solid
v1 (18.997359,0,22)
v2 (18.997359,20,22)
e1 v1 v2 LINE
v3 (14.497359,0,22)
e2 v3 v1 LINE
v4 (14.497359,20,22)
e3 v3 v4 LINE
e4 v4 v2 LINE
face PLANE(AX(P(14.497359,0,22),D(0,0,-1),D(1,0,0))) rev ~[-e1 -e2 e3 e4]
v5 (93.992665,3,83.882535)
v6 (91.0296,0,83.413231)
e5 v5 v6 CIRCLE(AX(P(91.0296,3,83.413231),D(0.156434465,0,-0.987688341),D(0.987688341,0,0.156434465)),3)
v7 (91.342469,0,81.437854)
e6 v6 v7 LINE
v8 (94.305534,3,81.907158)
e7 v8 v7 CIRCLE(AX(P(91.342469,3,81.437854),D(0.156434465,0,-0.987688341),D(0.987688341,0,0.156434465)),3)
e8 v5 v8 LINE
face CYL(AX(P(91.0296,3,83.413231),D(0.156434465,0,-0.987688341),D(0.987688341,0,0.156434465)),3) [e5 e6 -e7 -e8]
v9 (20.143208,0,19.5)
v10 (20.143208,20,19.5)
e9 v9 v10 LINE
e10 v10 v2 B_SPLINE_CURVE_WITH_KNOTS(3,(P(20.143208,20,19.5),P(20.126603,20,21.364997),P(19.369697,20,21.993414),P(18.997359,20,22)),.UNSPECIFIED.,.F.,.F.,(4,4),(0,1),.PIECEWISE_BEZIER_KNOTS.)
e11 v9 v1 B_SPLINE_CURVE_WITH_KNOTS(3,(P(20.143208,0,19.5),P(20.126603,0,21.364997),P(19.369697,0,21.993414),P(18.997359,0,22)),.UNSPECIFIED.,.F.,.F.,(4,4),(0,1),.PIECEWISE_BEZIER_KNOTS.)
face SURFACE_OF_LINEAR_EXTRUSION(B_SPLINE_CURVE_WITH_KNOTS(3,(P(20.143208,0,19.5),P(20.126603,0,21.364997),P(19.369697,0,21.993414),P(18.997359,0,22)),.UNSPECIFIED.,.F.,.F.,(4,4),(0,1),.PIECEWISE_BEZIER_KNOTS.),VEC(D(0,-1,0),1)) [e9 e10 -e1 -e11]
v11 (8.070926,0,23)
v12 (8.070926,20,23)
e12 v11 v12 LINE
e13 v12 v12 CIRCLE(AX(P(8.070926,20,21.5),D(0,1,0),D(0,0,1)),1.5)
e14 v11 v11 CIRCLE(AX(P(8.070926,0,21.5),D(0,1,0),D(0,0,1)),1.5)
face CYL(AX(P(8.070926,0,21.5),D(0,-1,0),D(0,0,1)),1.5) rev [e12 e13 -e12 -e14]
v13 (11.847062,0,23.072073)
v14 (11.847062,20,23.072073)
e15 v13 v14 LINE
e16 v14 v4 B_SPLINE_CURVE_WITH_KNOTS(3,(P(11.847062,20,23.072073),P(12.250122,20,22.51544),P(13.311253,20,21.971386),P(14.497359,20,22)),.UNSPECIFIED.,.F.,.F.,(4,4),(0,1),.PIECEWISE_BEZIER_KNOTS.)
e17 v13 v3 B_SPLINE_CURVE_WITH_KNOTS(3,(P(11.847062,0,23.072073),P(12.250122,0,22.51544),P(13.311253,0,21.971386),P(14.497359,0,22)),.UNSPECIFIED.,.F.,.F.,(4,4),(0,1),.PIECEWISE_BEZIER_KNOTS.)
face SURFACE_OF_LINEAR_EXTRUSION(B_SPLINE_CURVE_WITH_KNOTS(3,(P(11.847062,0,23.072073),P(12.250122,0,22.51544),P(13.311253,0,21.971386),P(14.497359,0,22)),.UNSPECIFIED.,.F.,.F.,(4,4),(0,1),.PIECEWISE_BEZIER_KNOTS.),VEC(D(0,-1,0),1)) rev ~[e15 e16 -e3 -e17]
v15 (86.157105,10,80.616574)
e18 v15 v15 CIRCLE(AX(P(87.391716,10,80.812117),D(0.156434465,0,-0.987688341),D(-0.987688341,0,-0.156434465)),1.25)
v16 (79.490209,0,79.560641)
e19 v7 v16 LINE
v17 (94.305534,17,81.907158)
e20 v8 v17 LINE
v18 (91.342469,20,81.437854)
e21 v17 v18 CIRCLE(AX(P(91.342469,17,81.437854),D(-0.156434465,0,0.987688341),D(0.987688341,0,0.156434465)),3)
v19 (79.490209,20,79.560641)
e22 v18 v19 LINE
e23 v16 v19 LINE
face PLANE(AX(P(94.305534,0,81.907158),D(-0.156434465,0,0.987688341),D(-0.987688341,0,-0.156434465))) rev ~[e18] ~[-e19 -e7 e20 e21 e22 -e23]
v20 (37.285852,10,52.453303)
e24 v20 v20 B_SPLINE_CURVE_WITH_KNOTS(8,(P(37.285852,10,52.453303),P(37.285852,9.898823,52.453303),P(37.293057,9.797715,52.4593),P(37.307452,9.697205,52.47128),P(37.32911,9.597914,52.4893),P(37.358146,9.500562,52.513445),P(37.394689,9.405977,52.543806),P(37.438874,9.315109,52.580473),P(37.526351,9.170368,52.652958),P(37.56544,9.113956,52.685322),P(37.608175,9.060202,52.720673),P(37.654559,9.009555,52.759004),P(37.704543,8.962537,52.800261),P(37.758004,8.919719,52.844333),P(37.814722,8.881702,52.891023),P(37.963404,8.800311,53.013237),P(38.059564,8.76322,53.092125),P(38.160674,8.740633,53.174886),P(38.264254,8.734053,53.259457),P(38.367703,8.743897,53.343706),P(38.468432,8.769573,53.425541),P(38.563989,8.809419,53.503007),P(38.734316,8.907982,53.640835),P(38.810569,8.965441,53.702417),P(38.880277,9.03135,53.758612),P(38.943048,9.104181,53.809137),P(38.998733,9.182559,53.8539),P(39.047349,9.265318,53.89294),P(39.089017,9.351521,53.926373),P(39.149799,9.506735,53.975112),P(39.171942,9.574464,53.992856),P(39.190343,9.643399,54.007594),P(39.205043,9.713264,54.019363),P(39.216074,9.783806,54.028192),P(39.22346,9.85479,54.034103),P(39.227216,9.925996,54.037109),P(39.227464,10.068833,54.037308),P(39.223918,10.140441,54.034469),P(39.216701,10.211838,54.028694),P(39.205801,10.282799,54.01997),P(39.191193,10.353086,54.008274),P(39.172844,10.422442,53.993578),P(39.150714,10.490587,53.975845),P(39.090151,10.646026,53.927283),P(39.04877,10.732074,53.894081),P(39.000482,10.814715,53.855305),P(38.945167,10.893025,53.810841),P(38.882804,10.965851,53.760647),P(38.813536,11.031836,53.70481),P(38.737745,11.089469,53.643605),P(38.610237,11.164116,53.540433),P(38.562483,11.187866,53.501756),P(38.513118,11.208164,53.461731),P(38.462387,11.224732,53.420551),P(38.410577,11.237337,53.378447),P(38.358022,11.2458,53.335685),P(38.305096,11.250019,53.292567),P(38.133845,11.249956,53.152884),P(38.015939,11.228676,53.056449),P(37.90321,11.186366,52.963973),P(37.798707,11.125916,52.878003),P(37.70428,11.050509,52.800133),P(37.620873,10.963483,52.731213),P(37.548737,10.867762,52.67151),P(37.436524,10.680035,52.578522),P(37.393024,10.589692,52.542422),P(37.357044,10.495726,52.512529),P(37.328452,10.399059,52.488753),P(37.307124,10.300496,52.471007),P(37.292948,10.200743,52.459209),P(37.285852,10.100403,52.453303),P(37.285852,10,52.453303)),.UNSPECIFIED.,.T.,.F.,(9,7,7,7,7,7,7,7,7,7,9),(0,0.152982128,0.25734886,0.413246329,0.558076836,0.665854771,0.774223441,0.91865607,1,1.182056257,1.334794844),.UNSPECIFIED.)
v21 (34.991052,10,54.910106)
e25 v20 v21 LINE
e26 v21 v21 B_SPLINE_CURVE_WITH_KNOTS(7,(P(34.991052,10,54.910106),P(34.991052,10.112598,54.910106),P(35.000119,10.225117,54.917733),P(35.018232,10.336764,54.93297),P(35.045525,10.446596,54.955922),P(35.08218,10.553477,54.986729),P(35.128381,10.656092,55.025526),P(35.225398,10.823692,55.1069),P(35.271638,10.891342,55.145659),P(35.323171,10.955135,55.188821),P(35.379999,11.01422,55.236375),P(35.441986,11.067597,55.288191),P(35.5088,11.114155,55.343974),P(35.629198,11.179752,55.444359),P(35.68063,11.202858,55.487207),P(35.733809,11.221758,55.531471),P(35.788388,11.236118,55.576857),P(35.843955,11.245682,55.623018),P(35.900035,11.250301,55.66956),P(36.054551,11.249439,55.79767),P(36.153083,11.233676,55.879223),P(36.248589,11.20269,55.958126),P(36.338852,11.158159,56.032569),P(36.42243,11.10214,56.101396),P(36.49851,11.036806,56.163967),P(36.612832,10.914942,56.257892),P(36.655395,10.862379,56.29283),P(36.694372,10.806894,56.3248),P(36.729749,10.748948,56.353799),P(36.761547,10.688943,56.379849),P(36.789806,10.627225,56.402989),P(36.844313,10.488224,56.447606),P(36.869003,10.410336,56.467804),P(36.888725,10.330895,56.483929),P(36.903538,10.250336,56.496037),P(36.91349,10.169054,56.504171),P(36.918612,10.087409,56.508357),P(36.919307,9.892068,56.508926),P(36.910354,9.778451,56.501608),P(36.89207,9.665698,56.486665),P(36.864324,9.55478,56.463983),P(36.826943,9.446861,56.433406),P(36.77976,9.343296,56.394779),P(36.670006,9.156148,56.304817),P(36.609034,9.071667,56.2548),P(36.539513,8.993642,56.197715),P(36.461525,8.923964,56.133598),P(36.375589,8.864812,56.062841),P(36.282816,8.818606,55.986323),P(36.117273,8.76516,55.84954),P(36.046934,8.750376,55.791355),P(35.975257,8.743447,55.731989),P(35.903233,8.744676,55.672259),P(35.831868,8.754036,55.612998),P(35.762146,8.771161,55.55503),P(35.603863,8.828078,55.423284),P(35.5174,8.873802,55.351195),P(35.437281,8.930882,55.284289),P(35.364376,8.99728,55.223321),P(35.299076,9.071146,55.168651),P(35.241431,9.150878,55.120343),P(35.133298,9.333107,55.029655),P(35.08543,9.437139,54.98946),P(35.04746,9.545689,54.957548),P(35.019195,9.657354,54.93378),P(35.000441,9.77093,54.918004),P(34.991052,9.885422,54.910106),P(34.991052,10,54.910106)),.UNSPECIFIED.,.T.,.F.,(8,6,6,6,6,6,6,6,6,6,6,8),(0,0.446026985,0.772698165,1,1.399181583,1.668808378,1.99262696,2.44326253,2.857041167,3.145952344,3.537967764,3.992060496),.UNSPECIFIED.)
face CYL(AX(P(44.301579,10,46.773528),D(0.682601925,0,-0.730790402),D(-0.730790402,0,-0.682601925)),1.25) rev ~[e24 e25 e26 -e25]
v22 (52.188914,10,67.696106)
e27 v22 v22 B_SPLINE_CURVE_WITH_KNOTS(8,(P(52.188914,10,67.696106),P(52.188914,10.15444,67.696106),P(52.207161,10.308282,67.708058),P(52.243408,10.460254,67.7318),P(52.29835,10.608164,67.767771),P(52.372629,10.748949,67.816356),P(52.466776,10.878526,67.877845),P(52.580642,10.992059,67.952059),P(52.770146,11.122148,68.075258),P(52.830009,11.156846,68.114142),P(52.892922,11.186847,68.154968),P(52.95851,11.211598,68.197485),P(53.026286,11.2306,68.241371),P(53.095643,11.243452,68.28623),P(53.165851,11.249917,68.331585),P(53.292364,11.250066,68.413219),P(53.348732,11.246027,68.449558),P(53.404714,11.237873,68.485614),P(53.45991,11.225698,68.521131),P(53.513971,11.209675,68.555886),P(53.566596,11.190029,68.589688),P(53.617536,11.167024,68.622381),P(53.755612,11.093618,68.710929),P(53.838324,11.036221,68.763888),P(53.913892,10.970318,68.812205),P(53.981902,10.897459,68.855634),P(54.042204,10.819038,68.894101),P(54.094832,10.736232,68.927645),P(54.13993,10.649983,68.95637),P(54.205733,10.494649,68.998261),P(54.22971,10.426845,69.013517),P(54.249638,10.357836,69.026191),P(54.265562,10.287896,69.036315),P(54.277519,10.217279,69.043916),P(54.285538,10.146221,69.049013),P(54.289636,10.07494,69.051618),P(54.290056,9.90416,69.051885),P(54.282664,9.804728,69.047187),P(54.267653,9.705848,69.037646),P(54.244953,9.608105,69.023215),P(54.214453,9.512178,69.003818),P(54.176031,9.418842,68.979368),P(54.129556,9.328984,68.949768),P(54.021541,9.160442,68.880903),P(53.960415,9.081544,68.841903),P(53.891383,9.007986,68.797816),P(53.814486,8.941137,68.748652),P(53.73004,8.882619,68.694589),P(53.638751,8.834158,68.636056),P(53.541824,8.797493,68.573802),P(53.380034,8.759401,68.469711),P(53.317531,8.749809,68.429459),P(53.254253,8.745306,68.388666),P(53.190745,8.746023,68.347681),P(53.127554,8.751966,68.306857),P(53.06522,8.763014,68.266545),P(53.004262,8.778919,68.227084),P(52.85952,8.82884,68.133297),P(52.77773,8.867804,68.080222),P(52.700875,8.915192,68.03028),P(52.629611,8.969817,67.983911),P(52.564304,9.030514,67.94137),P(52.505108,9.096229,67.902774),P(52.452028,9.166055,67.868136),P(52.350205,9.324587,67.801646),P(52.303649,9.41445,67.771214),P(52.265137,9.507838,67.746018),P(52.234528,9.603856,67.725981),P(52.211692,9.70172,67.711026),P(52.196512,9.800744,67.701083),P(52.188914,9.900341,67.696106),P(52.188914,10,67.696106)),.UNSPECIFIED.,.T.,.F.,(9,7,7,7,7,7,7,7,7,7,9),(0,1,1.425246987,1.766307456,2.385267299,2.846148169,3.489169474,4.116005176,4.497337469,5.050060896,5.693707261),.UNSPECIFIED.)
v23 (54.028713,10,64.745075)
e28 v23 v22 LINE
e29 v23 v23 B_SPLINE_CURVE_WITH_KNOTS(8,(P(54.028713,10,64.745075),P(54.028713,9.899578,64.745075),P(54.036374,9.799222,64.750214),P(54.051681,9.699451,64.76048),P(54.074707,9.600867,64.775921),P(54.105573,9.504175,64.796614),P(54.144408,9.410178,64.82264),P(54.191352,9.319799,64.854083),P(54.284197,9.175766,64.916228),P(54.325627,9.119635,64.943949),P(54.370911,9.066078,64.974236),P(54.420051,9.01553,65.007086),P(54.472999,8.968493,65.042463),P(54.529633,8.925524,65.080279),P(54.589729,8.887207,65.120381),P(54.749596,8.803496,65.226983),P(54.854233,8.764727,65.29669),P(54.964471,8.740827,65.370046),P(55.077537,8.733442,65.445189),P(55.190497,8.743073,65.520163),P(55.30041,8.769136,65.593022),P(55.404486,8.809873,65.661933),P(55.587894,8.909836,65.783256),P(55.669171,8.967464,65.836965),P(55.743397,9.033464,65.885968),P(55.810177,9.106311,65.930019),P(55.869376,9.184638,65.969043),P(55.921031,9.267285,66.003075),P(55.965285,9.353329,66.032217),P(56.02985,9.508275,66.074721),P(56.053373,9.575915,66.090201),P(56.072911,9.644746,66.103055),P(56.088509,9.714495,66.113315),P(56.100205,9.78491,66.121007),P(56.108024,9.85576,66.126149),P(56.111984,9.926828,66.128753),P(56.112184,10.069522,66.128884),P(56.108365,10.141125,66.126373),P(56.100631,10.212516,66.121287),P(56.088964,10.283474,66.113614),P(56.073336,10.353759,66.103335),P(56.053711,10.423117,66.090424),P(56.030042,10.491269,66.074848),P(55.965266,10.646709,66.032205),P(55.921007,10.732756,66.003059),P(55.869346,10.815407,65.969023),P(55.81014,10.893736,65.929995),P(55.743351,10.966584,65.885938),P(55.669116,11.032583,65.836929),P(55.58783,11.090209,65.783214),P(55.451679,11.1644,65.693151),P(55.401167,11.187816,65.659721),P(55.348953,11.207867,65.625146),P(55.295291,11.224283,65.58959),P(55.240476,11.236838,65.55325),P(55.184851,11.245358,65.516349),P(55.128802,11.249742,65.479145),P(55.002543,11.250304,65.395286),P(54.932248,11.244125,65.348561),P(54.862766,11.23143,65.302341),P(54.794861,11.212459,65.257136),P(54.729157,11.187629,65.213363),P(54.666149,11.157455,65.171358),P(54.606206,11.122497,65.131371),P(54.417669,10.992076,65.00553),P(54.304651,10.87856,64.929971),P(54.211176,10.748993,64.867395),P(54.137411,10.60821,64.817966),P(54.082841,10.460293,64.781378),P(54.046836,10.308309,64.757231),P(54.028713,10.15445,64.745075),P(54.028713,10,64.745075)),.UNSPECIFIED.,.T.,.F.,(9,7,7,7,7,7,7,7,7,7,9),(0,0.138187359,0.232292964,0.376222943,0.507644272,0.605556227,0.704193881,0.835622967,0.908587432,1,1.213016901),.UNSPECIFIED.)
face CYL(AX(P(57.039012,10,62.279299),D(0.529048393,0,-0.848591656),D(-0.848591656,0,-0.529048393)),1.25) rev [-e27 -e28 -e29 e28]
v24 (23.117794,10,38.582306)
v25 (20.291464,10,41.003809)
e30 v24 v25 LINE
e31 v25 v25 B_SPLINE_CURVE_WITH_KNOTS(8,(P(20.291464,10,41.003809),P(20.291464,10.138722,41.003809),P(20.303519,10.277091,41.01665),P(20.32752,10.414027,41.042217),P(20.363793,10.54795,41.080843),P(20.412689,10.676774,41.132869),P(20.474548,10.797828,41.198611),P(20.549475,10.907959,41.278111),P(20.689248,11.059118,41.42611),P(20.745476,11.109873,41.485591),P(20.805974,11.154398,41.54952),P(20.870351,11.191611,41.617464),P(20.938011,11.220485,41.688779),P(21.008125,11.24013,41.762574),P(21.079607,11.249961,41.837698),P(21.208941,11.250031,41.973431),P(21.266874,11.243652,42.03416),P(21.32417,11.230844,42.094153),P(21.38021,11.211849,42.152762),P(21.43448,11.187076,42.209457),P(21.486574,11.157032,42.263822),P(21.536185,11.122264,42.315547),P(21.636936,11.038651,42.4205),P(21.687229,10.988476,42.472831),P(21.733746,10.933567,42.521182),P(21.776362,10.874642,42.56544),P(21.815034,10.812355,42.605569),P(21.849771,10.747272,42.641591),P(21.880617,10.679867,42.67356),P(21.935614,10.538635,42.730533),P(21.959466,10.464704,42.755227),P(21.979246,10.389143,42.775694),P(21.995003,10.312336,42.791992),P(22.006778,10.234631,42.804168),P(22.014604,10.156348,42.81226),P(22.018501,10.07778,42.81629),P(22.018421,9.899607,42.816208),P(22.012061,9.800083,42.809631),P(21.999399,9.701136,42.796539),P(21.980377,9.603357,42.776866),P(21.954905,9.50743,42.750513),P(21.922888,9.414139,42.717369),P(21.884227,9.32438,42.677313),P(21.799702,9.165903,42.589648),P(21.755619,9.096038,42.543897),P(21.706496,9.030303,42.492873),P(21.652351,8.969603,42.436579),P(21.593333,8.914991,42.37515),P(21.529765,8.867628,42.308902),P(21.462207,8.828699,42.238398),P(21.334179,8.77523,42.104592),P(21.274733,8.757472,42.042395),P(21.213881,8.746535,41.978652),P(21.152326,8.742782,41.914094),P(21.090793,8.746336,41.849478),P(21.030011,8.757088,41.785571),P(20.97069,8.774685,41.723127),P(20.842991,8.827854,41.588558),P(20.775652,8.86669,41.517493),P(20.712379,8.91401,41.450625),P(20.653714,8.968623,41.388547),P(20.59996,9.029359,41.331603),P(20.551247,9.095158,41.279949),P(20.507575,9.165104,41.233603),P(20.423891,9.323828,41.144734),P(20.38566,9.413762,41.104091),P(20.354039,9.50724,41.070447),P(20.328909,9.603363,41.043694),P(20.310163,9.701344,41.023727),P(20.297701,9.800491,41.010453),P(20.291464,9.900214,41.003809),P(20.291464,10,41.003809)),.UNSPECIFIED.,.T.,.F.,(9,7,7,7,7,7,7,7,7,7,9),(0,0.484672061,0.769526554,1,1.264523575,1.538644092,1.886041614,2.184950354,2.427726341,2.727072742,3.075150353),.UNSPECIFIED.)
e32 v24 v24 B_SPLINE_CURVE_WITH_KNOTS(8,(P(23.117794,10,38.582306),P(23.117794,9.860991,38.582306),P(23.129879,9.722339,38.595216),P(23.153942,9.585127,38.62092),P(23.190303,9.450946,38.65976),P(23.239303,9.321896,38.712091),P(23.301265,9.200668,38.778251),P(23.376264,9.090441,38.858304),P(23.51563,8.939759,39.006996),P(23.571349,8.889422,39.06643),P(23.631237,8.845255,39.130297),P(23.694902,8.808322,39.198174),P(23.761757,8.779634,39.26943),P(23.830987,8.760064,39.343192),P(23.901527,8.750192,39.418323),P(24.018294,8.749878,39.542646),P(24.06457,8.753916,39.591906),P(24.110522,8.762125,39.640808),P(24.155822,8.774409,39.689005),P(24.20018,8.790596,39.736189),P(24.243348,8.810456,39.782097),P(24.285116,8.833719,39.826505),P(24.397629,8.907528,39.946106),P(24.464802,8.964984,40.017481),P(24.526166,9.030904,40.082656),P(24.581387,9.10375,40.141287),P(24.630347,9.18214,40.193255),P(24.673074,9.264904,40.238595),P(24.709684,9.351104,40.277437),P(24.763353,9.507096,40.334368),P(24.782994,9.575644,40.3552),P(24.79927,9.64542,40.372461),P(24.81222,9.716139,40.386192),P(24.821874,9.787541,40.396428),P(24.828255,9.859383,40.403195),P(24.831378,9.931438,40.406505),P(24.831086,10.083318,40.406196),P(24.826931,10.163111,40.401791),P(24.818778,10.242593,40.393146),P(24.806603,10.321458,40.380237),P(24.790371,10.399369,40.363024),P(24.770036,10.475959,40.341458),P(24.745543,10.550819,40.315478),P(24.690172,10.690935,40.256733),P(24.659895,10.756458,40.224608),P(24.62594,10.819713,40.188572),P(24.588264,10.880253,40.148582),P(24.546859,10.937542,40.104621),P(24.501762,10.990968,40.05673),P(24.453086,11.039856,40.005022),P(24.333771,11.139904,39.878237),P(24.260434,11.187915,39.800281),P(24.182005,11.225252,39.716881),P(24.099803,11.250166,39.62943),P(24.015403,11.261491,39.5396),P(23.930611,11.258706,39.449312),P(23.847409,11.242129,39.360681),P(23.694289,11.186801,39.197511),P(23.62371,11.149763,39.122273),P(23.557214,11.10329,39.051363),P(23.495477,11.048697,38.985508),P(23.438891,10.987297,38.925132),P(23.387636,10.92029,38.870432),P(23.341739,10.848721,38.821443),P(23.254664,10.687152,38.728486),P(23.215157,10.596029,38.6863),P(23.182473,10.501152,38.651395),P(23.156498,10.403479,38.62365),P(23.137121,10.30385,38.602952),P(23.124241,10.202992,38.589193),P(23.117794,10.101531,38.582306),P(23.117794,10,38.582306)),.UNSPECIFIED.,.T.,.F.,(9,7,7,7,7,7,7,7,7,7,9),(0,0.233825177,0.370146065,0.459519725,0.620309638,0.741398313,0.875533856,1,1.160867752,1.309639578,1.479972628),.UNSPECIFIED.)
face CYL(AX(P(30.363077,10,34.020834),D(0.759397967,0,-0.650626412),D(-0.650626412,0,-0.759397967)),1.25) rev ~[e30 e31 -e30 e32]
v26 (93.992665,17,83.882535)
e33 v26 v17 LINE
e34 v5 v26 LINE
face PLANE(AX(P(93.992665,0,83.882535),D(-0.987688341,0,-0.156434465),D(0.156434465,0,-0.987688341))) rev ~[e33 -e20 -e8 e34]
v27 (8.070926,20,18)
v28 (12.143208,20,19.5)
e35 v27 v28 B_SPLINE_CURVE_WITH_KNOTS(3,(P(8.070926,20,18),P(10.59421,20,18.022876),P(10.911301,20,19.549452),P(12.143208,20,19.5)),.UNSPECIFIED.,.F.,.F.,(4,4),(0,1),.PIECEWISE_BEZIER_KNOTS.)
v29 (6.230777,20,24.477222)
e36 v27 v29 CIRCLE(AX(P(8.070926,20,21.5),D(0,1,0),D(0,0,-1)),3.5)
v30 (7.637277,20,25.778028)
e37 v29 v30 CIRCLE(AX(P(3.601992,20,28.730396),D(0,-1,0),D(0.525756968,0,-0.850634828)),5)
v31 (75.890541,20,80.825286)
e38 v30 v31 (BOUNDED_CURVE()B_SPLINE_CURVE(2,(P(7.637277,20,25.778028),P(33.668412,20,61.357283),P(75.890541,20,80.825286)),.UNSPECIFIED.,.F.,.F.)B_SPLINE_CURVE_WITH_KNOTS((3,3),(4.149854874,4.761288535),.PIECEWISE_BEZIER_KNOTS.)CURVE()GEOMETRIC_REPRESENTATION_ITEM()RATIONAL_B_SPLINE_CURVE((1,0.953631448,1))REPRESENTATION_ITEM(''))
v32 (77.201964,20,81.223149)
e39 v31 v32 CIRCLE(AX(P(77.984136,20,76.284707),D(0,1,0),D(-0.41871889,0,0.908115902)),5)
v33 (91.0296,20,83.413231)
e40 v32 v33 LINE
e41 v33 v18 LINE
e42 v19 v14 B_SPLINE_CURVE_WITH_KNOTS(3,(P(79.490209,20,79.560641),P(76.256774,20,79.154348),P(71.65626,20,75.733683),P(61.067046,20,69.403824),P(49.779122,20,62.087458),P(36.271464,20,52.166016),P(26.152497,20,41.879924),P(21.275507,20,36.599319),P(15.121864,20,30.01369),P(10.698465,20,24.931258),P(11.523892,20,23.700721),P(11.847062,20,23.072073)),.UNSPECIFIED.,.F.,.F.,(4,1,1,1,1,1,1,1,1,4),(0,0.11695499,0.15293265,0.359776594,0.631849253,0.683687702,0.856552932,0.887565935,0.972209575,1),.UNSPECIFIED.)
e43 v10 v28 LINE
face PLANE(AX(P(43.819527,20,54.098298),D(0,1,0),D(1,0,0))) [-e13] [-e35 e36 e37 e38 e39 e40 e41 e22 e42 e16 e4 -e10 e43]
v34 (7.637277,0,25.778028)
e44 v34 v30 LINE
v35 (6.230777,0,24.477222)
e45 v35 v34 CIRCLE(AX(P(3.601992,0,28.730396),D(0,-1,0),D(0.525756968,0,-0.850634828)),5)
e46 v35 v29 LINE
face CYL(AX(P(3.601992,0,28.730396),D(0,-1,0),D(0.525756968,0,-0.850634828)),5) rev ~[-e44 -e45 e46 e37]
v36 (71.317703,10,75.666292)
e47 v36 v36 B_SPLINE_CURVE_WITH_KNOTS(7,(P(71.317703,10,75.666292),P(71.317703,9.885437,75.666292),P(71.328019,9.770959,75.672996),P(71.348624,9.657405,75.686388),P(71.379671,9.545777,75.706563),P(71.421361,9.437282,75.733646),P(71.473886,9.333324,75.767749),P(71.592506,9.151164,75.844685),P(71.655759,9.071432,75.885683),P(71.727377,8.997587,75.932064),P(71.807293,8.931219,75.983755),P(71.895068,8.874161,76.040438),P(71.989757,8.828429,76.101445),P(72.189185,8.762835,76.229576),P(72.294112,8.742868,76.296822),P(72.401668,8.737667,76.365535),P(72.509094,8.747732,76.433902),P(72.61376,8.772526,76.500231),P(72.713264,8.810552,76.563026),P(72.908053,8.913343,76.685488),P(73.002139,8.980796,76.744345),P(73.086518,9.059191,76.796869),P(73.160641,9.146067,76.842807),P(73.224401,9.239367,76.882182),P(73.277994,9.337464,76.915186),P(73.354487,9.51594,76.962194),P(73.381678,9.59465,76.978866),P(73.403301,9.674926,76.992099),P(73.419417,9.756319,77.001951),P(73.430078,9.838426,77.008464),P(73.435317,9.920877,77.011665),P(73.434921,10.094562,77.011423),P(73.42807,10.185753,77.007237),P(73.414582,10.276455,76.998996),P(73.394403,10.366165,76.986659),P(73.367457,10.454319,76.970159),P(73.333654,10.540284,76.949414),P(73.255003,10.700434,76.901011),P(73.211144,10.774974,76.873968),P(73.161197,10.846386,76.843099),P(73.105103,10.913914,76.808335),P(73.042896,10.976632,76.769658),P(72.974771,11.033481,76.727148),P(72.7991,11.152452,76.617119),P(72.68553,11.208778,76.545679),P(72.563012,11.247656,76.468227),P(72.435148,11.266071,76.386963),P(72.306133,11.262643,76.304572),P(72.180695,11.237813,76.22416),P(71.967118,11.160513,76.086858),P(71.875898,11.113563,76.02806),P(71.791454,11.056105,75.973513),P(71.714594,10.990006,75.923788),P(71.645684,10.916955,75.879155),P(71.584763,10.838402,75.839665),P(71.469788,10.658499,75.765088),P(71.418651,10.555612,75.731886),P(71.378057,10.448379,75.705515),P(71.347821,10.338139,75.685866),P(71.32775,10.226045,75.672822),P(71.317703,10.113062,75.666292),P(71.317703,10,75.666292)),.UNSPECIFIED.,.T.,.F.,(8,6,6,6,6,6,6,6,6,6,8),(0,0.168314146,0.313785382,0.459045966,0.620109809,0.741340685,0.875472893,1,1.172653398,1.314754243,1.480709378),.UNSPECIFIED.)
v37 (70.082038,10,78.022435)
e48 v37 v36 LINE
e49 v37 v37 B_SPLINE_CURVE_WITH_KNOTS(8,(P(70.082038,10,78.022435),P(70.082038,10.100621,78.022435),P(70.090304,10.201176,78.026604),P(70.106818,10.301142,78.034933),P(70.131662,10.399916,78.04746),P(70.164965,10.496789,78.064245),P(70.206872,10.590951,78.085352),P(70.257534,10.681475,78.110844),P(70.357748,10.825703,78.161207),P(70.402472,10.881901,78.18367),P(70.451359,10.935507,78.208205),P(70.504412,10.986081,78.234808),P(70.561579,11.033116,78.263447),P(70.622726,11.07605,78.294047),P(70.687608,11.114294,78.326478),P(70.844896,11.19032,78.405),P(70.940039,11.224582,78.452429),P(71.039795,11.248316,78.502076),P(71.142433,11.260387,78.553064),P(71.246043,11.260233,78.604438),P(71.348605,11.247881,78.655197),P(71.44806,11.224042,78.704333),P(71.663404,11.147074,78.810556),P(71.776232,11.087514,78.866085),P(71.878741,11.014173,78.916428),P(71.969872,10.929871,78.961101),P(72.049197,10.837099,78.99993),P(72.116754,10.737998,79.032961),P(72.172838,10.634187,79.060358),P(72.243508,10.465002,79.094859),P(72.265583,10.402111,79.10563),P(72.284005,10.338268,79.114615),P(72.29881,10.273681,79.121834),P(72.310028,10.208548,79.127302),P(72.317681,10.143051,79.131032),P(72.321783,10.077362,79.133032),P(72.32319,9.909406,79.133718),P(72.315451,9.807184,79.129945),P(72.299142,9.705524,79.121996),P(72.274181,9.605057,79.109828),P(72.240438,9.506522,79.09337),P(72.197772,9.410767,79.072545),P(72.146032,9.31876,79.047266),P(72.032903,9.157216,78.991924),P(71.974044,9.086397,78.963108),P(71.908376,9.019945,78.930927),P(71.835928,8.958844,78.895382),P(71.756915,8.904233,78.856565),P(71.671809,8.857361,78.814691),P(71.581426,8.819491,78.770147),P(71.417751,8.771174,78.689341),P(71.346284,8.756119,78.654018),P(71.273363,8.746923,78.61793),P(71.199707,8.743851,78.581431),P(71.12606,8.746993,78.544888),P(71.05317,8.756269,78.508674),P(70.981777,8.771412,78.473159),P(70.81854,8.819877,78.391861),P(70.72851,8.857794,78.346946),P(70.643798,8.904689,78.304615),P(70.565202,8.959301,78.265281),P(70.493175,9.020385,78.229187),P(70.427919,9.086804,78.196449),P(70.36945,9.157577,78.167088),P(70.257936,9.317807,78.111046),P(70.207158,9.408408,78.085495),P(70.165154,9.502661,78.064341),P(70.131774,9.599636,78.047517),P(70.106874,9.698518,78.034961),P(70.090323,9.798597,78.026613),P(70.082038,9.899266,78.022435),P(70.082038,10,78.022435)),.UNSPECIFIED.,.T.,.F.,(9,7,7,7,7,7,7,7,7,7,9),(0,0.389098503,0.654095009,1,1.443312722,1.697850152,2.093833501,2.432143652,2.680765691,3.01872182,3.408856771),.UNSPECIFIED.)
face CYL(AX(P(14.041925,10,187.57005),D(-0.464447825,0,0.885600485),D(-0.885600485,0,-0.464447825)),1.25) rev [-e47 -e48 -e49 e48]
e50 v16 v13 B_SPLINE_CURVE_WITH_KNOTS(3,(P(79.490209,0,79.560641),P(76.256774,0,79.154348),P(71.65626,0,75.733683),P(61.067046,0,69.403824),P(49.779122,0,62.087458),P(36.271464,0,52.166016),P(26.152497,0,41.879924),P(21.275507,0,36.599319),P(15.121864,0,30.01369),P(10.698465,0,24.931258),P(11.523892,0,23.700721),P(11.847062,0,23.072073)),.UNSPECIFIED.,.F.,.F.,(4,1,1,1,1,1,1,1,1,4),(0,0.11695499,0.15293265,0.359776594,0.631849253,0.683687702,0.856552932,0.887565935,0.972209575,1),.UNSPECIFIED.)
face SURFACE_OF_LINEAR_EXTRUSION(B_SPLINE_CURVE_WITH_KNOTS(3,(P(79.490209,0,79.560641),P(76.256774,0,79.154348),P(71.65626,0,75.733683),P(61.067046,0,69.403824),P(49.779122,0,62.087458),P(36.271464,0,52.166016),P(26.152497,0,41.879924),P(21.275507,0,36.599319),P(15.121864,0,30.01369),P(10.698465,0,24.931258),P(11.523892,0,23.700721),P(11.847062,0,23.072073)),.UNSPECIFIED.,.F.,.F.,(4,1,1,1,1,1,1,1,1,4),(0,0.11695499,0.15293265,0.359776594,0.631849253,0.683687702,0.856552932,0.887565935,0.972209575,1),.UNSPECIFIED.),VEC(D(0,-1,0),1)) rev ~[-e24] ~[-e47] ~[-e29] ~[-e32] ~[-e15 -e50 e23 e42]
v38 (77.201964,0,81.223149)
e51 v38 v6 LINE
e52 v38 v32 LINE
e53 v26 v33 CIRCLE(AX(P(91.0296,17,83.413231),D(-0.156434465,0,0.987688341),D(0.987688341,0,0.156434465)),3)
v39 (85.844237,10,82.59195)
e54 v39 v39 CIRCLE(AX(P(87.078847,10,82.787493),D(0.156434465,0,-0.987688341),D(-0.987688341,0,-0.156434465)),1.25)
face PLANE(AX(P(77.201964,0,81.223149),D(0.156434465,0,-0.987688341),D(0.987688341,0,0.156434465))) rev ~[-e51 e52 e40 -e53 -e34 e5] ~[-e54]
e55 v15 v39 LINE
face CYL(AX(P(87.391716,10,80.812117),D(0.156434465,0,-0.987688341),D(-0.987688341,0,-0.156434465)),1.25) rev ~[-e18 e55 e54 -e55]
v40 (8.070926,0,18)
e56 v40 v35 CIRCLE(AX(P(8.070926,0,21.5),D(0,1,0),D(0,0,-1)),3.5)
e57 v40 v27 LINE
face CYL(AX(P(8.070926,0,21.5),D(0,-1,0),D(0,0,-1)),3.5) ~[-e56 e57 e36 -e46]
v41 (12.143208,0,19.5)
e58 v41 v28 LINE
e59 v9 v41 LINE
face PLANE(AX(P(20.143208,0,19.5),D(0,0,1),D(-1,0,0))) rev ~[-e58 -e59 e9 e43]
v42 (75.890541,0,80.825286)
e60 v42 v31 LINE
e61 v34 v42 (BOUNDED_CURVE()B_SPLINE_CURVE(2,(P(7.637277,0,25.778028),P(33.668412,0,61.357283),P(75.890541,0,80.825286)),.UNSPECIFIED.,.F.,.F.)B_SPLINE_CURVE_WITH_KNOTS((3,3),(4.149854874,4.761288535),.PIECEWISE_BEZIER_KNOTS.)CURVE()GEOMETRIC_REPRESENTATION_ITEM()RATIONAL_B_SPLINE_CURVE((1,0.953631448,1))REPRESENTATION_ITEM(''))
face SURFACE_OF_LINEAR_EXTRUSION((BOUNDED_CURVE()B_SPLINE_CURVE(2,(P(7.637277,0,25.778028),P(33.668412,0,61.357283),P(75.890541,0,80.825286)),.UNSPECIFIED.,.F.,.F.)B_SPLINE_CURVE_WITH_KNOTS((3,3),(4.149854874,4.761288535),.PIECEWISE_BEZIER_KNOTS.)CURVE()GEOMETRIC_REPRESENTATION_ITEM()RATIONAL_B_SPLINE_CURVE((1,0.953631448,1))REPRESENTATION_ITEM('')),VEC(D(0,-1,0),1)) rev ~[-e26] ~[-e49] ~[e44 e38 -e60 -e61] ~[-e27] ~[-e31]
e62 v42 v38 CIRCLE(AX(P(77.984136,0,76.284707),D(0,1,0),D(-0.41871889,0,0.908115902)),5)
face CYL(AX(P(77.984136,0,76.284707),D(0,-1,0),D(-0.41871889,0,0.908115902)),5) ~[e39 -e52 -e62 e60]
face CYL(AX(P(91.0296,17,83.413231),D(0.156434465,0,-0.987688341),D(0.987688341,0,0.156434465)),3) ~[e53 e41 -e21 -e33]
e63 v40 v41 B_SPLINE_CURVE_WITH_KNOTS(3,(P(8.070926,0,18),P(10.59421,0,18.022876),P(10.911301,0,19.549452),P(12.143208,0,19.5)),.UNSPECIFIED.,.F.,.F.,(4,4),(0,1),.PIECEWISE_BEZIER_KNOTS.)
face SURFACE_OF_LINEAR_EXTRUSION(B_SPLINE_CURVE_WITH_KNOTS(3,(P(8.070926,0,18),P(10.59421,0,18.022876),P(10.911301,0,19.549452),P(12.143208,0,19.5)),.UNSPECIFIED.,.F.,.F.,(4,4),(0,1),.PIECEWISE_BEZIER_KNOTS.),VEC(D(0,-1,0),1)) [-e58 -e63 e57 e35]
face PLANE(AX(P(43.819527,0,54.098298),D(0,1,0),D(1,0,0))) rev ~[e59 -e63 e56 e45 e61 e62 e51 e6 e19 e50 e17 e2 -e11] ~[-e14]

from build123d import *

# Parameters (mm, degrees)
SKETCH_1_R               = 1.5
EXTRUDE_1_DEPTH          = 20
SKETCH_2_R               = 1.25
CUT_EXTRUDE_1_DEPTH      = 117.587125453
CUT_EXTRUDE_2_DEPTH      = 125.160942129
CUT_EXTRUDE_2_DEPTH_BACK = 125.160942129
SKETCH_5_R               = 1.25
CUT_EXTRUDE_START        = -5
SKETCH_6_R               = 1.25
CUT_EXTRUDE_3_DEPTH      = 78.365221441
CUT_EXTRUDE_START_2      = 10
SKETCH_7_R               = 1.25
CUT_EXTRUDE_5_DEPTH      = 81.224751973
SKETCH_8_R               = 1.25
CUT_EXTRUDE_6_DEPTH      = 97.006719329
FILLET_1_R               = 3


with BuildPart() as part:
    # Эскиз1 → Бобышка-Вытянуть1 (new body)
    with BuildSketch(Plane(origin=(0, 0, 0), x_dir=(1, 0, 0), z_dir=(0, 1, 0))):
        with BuildLine():
            Line((77.201963586, -81.223148621), (93.992665376, -83.882534527))
            Line((93.992665376, -83.882534527), (94.305534306, -81.907157846))
            Line((94.305534306, -81.907157846), (79.490209197, -79.56064087))
            add(Edge.make_bspline(
                [(79.490209197, -79.56064087), (76.256773952, -79.154348442), (71.656260447, -75.733682797), (61.0670462, -69.403824403), (49.779121917, -62.08745812), (36.271463551, -52.16601557), (26.152496922, -41.879924323), (21.275507444, -36.599319235), (15.121863873, -30.013690286), (10.698464666, -24.931258261), (11.523891951, -23.700720545), (11.847061913, -23.072072966)],
                knots=[0, 0, 0, 0, 0.11695499, 0.15293265, 0.359776594, 0.631849253, 0.683687702, 0.856552932, 0.887565935, 0.972209575, 1, 1, 1, 1], degree=3))
            add(Edge.make_bspline(
                [(11.847061913, -23.072072966), (12.250121588, -22.515440182), (13.311252633, -21.971386221), (14.497358583, -22)],
                knots=[0, 0, 0, 0, 1, 1, 1, 1], degree=3))
            Line((14.497358583, -22), (18.997358583, -22))
            add(Edge.make_bspline(
                [(20.143207518, -19.5), (20.126602545, -21.364997031), (19.36969675, -21.993414121), (18.997358583, -22)],
                knots=[0, 0, 0, 0, 1, 1, 1, 1], degree=3))
            Line((20.143207518, -19.5), (12.143207518, -19.5))
            add(Edge.make_bspline(
                [(8.070926194, -18), (10.594209658, -18.022875603), (10.911300873, -19.549452414), (12.143207518, -19.5)],
                knots=[0, 0, 0, 0, 1, 1, 1, 1], degree=3))
            ThreePointArc((8.070926194, -18), (4.704156478, -20.54351598), (6.230776804, -24.477221897))
            ThreePointArc((6.230776804, -24.477221897), (6.996911803, -25.059630547), (7.63727688, -25.778028236))
            add(Edge.make_bspline(
                [(7.63727688, -25.778028236), (33.668412058, -61.357283375), (75.890541462, -80.825286428)],
                knots=[4.149854874, 4.149854874, 4.149854874, 4.761288535, 4.761288535, 4.761288535], degree=2, weights=[1, 0.953631448, 1]))
            ThreePointArc((75.890541462, -80.825286428), (76.532556696, -81.069361324), (77.201963586, -81.223148621))
        make_face()
        with Locations(Location((8.070926194, -21.5, 0), (0, 0, 270))):
            Circle(SKETCH_1_R, mode=Mode.SUBTRACT)
    extrude(amount=EXTRUDE_1_DEPTH)

    # Эскиз2 → Вырез-Вытянуть1 (cut, through all)
    with BuildSketch(Plane(origin=(-10.347531177, 0, 65.331740641), x_dir=(-0.9876883405951379, 0, -0.1564344650402302), z_dir=(0.1564344650402302, 0, -0.9876883405951379))):
        with Locations((-98.957579108, 10)):
            Circle(SKETCH_2_R)
    extrude(amount=-CUT_EXTRUDE_1_DEPTH, mode=Mode.SUBTRACT)

    # Эскиз5 → Вырез-Вытянуть2 (cut, two sides: drawn at the far end of the back side and taken through both)
    with BuildSketch(Plane(origin=(-15.990680125, 0, 30.490731825), x_dir=(-0.8856004845364605, 0, -0.46444782461411815), z_dir=(0.46444782461411815, 0, -0.8856004845364605)).offset(-CUT_EXTRUDE_2_DEPTH_BACK)):
        with Locations((-99.552036869, 10)):
            Circle(SKETCH_5_R)
    extrude(amount=CUT_EXTRUDE_2_DEPTH + CUT_EXTRUDE_2_DEPTH_BACK, mode=Mode.SUBTRACT)

    # Эскиз6 → Вырез-Вытянуть3 (cut, through all)
    with BuildSketch(Plane(origin=(54.393770316, 20, 66.522257307), x_dir=(0.8485916557225819, 0, 0.52904839271848), z_dir=(-0.52904839271848, 0, 0.8485916557225819)).offset(CUT_EXTRUDE_START)):
        with Locations(Location((0, -10, 0), (0, 0, 180))):
            Circle(SKETCH_6_R)
    extrude(amount=CUT_EXTRUDE_3_DEPTH, mode=Mode.SUBTRACT)

    # Эскиз7 → Вырез-Вытянуть5 (cut, through all)
    with BuildSketch(Plane(origin=(37.475559405, 20, 54.081431788), x_dir=(-0.7307904020014915, 0, -0.682601925240838), z_dir=(0.682601925240838, 0, -0.7307904020014915)).offset(CUT_EXTRUDE_START_2)):
        with Locations((0, -10)):
            Circle(SKETCH_7_R)
    extrude(amount=-CUT_EXTRUDE_5_DEPTH, mode=Mode.SUBTRACT)

    # Эскиз8 → Вырез-Вытянуть6 (cut, through all)
    with BuildSketch(Plane(origin=(22.769096862, 20, 40.527098184), x_dir=(-0.6506264122597583, 0, -0.759397966595905), z_dir=(0.759397966595905, 0, -0.6506264122597583)).offset(CUT_EXTRUDE_START_2)):
        with Locations((0, -10)):
            Circle(SKETCH_8_R)
    extrude(amount=-CUT_EXTRUDE_6_DEPTH, mode=Mode.SUBTRACT)

    # Скругление1
    fillet_1_edges = [part.edges().sort_by_distance(p)[0] for p in [
        (94.149099841, 0, 82.894846186),
        (94.149099841, 20, 82.894846186),
    ]]
    fillet(fillet_1_edges, radius=FILLET_1_R)


solid = part.part
